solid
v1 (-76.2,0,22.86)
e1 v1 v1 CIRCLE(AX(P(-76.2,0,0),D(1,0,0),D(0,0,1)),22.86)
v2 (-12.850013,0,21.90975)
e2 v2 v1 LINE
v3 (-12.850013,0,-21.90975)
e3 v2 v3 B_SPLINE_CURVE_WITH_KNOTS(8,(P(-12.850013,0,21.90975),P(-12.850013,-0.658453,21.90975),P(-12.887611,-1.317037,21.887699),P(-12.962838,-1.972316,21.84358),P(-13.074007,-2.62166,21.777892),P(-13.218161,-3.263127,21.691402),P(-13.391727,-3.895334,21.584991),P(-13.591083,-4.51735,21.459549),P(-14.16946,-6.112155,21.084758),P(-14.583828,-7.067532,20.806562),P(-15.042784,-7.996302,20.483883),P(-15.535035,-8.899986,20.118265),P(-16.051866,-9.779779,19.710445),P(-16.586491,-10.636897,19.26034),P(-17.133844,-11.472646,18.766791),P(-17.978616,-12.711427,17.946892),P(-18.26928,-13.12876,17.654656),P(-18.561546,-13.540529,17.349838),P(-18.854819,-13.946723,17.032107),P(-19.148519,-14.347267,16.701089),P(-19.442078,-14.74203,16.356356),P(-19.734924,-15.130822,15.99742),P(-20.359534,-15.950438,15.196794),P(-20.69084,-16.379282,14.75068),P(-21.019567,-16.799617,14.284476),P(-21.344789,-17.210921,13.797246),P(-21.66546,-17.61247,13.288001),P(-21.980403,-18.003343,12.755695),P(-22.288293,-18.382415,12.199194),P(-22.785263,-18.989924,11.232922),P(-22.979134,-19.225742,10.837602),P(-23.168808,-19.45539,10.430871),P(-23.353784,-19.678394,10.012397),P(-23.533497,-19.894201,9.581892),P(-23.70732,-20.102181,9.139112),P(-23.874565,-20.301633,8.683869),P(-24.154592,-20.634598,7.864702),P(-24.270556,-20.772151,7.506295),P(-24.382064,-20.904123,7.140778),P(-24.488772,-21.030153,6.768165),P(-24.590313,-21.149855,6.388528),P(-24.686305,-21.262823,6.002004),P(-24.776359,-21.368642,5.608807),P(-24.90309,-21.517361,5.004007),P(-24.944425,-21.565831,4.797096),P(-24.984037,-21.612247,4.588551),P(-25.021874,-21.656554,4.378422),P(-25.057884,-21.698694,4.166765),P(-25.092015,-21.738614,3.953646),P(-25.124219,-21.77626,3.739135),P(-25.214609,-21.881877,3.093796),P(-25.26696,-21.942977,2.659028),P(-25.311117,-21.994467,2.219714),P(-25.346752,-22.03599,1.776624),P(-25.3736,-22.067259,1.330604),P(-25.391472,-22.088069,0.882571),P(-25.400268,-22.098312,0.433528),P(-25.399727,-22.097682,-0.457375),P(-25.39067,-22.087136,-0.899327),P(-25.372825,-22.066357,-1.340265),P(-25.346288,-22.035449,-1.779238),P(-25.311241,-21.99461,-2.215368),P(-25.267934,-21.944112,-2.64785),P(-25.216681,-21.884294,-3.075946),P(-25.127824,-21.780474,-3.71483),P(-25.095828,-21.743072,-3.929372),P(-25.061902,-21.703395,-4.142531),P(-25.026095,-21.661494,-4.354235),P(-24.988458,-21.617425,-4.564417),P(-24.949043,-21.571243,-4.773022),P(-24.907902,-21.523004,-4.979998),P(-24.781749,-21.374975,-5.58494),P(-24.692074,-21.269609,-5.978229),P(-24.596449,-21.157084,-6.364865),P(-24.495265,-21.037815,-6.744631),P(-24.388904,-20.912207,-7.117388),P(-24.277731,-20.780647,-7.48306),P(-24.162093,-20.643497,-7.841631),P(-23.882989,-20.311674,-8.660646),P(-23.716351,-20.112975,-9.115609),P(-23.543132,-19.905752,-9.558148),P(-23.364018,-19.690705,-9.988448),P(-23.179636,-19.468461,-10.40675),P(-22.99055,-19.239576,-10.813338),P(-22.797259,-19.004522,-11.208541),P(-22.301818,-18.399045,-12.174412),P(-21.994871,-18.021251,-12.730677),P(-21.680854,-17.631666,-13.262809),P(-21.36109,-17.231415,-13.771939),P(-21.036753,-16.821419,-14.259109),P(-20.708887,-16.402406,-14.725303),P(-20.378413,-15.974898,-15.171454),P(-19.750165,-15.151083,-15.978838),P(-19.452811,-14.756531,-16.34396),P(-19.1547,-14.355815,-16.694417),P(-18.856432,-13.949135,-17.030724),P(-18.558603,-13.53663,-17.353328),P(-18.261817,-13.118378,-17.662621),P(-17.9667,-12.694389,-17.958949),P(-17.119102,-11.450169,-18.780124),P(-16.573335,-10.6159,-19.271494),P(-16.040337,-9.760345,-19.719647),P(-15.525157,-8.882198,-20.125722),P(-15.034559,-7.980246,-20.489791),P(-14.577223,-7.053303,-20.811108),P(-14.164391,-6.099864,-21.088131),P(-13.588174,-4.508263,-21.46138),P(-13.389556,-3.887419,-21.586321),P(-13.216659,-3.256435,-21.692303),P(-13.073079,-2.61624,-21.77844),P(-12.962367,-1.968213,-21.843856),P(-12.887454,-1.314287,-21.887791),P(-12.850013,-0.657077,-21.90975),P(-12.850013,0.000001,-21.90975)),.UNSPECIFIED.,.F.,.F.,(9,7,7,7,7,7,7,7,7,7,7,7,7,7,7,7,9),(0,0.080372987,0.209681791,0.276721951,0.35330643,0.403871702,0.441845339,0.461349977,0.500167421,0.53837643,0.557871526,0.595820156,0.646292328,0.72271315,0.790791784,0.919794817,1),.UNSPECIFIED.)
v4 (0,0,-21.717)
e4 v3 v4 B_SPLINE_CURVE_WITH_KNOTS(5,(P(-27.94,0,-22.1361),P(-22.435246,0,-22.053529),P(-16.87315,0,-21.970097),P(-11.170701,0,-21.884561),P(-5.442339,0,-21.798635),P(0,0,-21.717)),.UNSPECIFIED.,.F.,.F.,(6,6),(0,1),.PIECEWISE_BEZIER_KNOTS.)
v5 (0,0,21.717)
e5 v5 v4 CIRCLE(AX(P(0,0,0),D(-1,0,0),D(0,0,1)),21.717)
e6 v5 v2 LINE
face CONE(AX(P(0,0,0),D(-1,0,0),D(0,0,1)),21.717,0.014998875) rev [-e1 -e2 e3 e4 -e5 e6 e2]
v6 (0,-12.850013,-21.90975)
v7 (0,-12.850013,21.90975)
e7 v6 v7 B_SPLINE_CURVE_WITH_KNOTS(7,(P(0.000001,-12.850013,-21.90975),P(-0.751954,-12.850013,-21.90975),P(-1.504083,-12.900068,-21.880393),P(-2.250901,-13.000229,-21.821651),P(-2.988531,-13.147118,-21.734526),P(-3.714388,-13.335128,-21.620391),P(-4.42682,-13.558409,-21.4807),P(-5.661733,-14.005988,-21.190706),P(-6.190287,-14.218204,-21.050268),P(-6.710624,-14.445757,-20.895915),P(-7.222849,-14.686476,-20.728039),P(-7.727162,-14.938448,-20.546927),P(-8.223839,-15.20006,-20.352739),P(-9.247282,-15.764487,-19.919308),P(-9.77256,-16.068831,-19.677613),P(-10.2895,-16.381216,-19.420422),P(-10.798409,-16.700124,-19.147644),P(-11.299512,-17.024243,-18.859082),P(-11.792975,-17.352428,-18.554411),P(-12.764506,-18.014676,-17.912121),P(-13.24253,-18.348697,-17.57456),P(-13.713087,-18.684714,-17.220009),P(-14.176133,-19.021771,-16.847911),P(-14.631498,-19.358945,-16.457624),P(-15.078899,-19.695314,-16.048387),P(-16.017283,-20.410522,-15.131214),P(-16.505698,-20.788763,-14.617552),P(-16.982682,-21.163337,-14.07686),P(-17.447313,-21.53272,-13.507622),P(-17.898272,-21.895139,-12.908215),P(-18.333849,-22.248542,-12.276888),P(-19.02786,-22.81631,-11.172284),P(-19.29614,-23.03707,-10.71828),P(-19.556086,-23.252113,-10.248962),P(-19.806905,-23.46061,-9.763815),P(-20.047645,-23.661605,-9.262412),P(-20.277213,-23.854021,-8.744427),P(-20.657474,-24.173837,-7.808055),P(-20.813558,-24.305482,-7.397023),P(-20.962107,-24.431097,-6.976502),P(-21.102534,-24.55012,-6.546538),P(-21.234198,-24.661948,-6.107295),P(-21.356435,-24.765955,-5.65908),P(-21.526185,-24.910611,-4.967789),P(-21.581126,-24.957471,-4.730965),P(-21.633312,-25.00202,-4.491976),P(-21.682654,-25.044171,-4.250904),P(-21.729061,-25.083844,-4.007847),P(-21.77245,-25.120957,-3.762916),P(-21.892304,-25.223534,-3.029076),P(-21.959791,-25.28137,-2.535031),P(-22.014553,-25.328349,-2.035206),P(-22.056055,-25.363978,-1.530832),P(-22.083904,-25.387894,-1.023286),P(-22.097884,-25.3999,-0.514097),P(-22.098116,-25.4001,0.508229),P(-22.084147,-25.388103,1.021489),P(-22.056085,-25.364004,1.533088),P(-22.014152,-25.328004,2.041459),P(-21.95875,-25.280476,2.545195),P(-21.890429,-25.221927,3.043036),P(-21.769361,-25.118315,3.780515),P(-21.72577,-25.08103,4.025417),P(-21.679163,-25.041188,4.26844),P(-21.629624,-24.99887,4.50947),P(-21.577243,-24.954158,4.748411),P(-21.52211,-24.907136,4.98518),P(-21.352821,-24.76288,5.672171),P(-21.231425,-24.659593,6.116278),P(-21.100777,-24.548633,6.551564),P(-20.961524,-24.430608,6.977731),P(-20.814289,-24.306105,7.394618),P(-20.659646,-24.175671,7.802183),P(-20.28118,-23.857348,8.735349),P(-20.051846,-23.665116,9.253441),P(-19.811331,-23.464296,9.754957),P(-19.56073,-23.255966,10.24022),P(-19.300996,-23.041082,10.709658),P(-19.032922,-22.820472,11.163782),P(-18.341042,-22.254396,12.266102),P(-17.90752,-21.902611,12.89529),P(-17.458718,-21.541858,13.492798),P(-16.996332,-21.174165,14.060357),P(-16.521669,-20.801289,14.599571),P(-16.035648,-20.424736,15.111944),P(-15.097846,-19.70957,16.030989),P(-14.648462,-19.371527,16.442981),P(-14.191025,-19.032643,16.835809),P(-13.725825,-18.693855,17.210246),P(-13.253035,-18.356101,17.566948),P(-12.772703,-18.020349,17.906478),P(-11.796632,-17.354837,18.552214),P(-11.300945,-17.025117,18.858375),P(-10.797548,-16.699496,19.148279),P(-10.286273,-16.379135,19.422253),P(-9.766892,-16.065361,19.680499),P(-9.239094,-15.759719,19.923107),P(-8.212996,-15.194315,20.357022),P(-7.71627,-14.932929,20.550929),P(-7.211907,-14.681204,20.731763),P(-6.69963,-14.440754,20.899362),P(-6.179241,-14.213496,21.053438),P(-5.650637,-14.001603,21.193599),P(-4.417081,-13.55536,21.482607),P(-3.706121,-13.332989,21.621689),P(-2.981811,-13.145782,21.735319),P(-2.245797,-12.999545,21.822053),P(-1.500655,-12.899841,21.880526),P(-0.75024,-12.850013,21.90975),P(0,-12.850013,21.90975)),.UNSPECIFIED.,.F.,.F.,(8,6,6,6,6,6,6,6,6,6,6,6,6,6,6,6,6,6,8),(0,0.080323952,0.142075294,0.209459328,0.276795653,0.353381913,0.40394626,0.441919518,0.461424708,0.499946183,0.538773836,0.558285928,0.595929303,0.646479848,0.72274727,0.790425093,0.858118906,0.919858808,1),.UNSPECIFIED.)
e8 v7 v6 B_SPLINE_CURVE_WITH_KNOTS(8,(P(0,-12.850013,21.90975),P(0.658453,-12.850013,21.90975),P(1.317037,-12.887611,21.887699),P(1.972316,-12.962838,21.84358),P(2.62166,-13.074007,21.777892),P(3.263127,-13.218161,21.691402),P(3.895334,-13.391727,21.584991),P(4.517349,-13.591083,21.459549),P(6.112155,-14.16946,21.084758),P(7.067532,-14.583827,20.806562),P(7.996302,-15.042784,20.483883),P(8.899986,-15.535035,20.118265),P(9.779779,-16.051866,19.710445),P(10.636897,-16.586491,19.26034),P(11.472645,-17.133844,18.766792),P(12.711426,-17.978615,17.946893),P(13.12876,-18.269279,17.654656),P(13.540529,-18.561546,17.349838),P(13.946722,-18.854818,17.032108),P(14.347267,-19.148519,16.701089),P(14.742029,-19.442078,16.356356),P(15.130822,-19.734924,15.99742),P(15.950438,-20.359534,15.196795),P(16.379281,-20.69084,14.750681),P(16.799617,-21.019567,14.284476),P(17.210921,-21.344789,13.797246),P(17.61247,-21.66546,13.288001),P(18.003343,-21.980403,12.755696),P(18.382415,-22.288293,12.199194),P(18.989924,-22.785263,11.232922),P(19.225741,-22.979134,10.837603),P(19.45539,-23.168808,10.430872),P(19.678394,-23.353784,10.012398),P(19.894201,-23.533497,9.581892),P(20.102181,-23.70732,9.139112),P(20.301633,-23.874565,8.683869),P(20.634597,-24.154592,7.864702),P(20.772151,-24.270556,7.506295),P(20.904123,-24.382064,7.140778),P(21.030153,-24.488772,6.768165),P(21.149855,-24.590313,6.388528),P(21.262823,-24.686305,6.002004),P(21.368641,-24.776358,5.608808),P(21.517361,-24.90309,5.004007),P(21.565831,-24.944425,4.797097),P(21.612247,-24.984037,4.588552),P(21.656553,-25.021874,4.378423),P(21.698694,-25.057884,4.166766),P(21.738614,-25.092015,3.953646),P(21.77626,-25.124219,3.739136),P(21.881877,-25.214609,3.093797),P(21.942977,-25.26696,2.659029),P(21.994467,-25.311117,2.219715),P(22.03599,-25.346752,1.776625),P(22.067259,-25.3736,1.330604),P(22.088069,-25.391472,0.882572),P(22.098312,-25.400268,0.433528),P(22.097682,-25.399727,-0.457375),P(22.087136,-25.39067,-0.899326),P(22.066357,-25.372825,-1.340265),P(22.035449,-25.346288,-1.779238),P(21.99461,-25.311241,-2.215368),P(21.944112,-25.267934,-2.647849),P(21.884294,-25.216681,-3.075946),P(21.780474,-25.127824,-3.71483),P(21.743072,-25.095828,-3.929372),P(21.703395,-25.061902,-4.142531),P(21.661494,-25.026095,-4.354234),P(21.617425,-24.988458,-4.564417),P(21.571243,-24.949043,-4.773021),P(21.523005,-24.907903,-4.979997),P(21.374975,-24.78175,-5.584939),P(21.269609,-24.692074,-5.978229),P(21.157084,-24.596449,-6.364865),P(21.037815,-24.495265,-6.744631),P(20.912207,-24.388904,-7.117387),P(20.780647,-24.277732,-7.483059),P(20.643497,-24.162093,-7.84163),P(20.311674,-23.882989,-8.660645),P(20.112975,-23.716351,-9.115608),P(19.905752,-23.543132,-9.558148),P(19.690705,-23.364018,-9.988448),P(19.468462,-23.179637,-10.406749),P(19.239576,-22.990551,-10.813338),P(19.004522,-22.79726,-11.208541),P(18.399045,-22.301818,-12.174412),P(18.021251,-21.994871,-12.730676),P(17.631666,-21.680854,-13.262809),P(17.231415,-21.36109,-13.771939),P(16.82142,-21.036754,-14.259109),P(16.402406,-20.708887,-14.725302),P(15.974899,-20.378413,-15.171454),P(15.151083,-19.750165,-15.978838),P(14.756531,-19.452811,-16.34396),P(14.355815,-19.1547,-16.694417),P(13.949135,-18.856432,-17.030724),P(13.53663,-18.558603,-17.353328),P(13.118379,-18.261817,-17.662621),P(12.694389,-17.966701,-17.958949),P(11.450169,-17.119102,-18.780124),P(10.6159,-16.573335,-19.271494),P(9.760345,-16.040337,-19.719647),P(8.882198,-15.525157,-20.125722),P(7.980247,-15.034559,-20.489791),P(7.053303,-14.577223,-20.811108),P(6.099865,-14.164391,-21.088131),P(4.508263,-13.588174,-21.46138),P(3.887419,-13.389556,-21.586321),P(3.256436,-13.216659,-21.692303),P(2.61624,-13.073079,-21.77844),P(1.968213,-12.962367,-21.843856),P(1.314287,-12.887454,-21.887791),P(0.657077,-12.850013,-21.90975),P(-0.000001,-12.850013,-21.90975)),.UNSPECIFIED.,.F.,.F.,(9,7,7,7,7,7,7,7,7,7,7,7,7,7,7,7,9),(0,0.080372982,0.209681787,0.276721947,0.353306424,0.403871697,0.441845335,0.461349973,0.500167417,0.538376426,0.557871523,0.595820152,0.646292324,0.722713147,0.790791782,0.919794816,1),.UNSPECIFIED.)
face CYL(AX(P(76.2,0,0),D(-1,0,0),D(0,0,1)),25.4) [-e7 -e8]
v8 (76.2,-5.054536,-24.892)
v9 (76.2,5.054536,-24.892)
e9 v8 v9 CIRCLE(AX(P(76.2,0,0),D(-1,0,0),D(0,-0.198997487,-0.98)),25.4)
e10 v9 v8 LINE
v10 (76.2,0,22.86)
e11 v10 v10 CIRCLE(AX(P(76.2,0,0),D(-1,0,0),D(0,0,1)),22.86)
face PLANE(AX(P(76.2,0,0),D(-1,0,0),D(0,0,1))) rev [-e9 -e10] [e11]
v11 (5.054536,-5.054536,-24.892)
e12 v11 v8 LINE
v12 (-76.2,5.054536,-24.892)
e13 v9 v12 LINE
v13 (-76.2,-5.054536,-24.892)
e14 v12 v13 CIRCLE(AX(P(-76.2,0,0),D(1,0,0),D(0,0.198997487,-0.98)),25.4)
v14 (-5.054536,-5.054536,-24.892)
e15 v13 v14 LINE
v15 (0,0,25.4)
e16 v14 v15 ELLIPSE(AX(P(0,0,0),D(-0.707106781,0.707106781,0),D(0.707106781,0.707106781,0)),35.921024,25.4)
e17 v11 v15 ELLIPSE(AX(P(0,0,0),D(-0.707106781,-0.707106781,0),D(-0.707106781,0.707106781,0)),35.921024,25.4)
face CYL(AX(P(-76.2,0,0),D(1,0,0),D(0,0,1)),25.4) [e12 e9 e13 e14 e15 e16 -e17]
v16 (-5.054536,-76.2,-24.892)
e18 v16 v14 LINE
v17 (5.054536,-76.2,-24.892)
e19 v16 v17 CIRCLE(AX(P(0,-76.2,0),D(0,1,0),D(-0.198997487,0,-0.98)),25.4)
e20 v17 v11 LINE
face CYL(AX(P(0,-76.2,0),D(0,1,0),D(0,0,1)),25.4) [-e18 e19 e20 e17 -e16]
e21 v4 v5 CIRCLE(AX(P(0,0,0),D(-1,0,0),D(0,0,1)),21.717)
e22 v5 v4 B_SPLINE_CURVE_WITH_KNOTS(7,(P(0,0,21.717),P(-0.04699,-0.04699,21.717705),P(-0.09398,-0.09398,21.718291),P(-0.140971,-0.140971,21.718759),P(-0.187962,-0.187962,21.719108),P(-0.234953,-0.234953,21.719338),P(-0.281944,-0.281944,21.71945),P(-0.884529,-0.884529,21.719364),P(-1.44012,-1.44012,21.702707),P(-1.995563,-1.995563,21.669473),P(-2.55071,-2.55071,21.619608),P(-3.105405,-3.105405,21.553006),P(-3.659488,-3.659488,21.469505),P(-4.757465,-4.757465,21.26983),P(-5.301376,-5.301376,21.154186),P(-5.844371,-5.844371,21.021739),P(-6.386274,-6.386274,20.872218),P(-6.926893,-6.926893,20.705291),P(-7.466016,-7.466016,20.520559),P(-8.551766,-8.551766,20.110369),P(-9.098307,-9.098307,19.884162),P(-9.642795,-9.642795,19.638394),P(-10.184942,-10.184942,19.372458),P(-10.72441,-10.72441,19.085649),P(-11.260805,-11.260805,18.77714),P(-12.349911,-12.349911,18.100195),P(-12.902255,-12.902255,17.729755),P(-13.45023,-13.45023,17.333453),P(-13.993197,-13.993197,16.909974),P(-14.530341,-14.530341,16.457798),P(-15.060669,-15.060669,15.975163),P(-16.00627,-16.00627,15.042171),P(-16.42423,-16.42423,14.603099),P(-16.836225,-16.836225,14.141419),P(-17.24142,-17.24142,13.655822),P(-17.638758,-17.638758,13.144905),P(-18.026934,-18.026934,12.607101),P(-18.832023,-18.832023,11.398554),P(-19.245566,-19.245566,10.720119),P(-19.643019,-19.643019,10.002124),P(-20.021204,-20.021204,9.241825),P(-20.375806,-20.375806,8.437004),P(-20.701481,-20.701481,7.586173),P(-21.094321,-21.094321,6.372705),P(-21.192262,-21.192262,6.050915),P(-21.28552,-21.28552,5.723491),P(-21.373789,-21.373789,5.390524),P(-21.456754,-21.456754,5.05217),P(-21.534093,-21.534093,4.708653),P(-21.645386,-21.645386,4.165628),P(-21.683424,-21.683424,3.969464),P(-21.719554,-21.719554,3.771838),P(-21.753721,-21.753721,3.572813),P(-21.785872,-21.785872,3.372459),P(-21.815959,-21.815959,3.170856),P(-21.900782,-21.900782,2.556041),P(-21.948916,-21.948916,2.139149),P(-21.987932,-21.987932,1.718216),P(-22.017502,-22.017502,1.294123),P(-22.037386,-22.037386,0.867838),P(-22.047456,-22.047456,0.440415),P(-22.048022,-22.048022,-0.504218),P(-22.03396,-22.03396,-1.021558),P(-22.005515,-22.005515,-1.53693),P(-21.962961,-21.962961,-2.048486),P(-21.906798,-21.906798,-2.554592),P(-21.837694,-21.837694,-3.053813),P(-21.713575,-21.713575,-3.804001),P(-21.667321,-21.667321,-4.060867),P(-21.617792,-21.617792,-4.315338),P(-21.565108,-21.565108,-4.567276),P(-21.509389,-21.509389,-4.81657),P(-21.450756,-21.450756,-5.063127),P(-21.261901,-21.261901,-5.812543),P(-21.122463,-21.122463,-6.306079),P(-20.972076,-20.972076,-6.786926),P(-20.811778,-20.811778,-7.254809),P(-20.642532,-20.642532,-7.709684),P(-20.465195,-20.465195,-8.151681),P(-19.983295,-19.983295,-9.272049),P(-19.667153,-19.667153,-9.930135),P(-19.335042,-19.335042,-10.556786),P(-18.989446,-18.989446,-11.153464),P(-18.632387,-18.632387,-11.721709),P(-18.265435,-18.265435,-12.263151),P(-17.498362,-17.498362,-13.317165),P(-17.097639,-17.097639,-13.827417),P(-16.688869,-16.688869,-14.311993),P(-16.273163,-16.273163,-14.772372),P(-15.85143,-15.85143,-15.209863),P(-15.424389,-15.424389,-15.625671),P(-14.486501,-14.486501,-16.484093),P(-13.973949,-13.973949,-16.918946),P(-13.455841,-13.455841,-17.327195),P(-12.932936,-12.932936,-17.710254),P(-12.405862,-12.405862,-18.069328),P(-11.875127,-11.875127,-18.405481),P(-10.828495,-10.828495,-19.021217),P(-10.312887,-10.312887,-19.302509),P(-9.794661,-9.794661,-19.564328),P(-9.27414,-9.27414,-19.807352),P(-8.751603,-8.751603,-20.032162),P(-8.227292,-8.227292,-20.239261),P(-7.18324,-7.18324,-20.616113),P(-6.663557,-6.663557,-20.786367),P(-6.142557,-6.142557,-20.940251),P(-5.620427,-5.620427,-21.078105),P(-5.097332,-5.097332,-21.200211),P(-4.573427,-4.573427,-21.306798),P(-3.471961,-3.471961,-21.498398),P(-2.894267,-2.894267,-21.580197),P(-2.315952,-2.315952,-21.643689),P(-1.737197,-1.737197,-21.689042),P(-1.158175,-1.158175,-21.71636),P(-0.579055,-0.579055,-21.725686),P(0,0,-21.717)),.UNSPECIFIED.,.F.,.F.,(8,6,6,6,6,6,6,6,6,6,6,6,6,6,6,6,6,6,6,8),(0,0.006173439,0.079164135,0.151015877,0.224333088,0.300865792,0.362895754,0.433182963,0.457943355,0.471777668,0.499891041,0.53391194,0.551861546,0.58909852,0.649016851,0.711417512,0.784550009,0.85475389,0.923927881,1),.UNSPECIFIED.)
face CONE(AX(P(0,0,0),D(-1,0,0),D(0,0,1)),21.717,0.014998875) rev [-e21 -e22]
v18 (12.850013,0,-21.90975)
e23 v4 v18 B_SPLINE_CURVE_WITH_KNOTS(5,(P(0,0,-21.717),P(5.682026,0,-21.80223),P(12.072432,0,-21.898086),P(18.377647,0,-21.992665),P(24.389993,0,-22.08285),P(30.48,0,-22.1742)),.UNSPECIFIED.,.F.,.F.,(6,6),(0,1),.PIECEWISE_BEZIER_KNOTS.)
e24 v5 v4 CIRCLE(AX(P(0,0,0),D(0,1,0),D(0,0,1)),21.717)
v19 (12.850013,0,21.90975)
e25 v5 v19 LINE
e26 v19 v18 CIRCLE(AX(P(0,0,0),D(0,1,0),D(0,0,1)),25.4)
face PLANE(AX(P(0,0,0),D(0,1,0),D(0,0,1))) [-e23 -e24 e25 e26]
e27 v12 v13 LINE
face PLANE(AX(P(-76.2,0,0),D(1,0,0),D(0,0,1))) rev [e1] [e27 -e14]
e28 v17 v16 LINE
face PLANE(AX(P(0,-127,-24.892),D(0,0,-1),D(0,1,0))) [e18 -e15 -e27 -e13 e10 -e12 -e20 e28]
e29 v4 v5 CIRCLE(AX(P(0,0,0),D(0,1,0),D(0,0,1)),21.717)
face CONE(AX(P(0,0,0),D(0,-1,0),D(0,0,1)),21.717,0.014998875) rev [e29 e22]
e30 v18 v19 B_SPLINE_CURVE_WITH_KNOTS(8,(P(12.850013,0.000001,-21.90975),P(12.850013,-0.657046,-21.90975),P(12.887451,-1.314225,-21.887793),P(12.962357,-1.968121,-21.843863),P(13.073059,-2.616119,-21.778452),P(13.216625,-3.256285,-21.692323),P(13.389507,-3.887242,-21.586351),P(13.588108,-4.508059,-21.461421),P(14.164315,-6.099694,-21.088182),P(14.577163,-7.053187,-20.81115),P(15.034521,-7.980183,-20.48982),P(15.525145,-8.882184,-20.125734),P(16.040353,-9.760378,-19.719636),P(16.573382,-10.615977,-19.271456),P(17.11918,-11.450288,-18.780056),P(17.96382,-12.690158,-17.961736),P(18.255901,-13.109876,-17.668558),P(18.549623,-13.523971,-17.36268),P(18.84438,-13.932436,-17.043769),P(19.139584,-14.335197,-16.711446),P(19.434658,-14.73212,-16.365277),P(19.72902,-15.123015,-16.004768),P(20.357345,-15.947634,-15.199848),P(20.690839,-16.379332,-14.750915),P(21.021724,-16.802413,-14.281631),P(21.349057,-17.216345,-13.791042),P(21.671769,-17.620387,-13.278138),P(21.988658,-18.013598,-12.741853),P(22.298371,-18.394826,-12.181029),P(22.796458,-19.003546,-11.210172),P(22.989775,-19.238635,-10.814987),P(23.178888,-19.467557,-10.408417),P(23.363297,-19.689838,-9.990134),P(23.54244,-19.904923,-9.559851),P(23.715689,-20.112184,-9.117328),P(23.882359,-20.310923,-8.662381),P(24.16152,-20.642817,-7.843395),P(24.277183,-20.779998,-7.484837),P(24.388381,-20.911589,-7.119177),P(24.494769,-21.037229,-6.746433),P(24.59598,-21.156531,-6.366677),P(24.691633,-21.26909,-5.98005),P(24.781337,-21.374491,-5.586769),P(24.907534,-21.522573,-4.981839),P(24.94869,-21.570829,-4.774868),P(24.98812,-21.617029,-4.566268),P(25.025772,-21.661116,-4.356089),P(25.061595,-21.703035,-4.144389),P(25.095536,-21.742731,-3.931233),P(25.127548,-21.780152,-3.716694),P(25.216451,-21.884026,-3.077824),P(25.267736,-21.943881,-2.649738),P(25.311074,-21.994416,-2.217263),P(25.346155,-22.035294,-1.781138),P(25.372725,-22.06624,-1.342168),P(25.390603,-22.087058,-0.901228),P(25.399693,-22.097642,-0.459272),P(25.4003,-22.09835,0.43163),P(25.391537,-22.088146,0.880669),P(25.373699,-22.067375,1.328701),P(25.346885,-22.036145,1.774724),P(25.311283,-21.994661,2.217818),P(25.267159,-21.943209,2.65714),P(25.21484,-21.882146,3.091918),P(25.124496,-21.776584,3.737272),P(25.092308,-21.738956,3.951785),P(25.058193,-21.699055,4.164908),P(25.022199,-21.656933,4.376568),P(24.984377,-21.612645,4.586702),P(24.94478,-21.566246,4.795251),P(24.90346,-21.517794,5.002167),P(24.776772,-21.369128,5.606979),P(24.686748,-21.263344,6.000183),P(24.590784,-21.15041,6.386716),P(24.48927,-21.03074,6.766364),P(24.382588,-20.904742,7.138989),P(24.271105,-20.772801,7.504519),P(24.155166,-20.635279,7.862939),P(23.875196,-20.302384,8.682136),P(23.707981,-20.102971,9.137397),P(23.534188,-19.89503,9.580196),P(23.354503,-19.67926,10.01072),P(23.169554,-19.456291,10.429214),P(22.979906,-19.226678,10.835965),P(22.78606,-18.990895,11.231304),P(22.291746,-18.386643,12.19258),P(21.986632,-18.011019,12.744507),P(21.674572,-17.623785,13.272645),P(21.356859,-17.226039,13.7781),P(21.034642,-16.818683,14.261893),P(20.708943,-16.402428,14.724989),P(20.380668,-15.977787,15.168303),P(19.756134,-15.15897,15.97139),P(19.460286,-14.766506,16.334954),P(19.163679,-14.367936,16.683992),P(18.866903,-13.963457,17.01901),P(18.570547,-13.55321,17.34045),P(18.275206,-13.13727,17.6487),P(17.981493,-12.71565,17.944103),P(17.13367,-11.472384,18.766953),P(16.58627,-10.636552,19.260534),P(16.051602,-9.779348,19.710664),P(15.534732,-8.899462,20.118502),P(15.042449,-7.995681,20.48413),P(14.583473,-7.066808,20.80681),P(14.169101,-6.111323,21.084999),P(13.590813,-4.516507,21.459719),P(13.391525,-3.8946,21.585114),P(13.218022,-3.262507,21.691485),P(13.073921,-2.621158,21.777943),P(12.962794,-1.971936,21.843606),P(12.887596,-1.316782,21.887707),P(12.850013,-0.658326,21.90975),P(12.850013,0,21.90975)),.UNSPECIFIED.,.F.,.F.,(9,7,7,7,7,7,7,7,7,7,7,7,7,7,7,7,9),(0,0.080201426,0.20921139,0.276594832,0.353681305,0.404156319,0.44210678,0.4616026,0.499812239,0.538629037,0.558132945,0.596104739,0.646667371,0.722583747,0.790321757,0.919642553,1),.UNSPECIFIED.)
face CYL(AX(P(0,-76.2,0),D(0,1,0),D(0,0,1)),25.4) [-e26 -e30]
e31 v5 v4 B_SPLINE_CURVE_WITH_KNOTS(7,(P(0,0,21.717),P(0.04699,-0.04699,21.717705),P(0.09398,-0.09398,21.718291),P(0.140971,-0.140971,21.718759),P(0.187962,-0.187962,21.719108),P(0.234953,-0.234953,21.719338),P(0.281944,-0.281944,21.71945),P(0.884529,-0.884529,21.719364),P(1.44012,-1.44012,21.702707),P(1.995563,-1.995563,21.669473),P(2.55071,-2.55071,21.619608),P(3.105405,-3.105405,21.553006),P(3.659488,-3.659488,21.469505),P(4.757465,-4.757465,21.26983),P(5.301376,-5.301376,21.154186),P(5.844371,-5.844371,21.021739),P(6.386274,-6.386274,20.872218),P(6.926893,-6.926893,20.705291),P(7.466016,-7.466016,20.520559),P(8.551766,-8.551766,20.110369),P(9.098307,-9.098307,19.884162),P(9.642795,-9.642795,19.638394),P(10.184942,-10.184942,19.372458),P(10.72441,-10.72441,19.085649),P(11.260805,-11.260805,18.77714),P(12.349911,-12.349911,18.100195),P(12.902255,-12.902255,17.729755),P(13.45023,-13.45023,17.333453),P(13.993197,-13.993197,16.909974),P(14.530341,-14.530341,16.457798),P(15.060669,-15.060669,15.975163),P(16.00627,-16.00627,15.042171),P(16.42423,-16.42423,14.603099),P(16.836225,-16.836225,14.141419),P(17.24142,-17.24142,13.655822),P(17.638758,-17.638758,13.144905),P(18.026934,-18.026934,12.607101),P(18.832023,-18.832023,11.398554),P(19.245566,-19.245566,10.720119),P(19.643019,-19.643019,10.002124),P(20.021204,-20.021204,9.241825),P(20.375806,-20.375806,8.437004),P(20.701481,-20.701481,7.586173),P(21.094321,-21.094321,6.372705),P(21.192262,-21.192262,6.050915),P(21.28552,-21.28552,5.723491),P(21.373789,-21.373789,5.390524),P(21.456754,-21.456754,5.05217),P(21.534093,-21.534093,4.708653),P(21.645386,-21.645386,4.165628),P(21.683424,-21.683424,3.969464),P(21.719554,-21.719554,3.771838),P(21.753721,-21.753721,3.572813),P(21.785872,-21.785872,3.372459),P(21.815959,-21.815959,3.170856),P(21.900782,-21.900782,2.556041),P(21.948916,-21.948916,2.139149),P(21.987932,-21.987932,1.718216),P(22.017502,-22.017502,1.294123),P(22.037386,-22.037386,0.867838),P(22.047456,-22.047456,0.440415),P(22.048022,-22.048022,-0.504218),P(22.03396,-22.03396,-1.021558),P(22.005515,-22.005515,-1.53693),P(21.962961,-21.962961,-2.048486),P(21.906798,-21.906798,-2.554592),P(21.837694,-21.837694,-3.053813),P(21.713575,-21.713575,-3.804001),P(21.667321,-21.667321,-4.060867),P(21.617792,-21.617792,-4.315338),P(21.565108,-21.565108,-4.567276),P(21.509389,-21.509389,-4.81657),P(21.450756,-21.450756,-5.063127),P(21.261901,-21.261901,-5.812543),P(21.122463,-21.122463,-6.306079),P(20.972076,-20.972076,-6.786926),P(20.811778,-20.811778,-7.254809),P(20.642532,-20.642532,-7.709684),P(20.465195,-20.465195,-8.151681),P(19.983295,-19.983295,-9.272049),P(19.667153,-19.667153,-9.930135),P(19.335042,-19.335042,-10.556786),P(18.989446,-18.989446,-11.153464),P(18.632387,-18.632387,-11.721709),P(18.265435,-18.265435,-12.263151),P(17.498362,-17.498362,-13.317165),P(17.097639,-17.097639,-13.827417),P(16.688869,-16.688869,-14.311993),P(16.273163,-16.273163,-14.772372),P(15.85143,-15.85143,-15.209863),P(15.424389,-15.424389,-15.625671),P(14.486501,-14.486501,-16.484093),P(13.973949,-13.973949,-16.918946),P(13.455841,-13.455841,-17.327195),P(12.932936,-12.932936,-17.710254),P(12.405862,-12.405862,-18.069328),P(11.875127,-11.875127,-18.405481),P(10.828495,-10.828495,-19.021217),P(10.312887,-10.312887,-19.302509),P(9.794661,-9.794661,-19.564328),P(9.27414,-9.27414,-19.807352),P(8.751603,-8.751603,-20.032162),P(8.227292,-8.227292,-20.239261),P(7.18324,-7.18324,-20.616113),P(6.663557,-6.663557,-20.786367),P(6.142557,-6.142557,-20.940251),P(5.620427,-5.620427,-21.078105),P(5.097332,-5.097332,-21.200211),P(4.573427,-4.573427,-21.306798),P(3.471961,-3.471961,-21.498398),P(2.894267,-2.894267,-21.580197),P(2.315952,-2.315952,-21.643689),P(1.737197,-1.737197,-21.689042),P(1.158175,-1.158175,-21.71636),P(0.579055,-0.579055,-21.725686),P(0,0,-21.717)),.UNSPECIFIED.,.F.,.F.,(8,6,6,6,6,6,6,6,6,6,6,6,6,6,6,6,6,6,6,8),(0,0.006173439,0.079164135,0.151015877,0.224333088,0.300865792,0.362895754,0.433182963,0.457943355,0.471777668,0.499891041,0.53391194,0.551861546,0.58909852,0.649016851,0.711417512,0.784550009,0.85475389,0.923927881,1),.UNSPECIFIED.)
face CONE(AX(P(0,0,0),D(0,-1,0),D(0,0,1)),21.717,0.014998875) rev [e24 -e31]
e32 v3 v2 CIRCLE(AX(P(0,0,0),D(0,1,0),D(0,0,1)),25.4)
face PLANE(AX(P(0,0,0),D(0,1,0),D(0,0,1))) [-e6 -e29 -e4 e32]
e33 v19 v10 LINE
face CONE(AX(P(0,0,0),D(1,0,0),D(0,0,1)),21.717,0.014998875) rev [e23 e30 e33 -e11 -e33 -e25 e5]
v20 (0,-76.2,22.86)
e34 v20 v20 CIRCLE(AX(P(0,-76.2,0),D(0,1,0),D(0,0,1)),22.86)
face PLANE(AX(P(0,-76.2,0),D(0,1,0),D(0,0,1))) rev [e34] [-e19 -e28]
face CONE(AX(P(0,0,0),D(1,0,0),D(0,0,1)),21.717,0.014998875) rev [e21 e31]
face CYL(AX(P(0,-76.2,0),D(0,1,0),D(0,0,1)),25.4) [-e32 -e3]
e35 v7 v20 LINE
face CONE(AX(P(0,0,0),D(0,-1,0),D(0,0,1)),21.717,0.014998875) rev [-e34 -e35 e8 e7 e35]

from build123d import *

# Parameters (mm, degrees)
F4_COUNT      = 3
F4_ANGLE      = 180
F5_W          = 152.4
F5_H          = 0.508
F6_DEPTH      = 76.2010001
F6_DEPTH_BACK = 76.2010001


with BuildPart() as f1:
    # F0 (on Front) → F1 (revolve)
    with BuildSketch(Plane.XZ):
        Polygon((76.2, 25.4), (0, 25.4), (0, 21.717), (76.2, 22.86), align=None)
    revolve(axis=Axis((-51.9470935156, 0, 0), (-1, 0, 0)))

    # F4: F1 ×3 about axis
    f4_axis = Axis((0, 0, 5.3851941696), (0, 0, -1))


with BuildPart() as f1_1:
    add(f1.part)
    for i in range(1, F4_COUNT):
        add(f1.part.rotate(f4_axis, i * F4_ANGLE / (F4_COUNT - 1)))

    # F5 (on Right) → F6 (cut, two sides)
    with BuildSketch(Plane.YZ) as f6_sk:
        with Locations((-50.8, -25.146)):
            Rectangle(F5_W, F5_H)
    extrude(amount=-F6_DEPTH, mode=Mode.SUBTRACT)
    extrude(f6_sk.sketch, amount=F6_DEPTH_BACK, mode=Mode.SUBTRACT)


solid = f1_1.part
